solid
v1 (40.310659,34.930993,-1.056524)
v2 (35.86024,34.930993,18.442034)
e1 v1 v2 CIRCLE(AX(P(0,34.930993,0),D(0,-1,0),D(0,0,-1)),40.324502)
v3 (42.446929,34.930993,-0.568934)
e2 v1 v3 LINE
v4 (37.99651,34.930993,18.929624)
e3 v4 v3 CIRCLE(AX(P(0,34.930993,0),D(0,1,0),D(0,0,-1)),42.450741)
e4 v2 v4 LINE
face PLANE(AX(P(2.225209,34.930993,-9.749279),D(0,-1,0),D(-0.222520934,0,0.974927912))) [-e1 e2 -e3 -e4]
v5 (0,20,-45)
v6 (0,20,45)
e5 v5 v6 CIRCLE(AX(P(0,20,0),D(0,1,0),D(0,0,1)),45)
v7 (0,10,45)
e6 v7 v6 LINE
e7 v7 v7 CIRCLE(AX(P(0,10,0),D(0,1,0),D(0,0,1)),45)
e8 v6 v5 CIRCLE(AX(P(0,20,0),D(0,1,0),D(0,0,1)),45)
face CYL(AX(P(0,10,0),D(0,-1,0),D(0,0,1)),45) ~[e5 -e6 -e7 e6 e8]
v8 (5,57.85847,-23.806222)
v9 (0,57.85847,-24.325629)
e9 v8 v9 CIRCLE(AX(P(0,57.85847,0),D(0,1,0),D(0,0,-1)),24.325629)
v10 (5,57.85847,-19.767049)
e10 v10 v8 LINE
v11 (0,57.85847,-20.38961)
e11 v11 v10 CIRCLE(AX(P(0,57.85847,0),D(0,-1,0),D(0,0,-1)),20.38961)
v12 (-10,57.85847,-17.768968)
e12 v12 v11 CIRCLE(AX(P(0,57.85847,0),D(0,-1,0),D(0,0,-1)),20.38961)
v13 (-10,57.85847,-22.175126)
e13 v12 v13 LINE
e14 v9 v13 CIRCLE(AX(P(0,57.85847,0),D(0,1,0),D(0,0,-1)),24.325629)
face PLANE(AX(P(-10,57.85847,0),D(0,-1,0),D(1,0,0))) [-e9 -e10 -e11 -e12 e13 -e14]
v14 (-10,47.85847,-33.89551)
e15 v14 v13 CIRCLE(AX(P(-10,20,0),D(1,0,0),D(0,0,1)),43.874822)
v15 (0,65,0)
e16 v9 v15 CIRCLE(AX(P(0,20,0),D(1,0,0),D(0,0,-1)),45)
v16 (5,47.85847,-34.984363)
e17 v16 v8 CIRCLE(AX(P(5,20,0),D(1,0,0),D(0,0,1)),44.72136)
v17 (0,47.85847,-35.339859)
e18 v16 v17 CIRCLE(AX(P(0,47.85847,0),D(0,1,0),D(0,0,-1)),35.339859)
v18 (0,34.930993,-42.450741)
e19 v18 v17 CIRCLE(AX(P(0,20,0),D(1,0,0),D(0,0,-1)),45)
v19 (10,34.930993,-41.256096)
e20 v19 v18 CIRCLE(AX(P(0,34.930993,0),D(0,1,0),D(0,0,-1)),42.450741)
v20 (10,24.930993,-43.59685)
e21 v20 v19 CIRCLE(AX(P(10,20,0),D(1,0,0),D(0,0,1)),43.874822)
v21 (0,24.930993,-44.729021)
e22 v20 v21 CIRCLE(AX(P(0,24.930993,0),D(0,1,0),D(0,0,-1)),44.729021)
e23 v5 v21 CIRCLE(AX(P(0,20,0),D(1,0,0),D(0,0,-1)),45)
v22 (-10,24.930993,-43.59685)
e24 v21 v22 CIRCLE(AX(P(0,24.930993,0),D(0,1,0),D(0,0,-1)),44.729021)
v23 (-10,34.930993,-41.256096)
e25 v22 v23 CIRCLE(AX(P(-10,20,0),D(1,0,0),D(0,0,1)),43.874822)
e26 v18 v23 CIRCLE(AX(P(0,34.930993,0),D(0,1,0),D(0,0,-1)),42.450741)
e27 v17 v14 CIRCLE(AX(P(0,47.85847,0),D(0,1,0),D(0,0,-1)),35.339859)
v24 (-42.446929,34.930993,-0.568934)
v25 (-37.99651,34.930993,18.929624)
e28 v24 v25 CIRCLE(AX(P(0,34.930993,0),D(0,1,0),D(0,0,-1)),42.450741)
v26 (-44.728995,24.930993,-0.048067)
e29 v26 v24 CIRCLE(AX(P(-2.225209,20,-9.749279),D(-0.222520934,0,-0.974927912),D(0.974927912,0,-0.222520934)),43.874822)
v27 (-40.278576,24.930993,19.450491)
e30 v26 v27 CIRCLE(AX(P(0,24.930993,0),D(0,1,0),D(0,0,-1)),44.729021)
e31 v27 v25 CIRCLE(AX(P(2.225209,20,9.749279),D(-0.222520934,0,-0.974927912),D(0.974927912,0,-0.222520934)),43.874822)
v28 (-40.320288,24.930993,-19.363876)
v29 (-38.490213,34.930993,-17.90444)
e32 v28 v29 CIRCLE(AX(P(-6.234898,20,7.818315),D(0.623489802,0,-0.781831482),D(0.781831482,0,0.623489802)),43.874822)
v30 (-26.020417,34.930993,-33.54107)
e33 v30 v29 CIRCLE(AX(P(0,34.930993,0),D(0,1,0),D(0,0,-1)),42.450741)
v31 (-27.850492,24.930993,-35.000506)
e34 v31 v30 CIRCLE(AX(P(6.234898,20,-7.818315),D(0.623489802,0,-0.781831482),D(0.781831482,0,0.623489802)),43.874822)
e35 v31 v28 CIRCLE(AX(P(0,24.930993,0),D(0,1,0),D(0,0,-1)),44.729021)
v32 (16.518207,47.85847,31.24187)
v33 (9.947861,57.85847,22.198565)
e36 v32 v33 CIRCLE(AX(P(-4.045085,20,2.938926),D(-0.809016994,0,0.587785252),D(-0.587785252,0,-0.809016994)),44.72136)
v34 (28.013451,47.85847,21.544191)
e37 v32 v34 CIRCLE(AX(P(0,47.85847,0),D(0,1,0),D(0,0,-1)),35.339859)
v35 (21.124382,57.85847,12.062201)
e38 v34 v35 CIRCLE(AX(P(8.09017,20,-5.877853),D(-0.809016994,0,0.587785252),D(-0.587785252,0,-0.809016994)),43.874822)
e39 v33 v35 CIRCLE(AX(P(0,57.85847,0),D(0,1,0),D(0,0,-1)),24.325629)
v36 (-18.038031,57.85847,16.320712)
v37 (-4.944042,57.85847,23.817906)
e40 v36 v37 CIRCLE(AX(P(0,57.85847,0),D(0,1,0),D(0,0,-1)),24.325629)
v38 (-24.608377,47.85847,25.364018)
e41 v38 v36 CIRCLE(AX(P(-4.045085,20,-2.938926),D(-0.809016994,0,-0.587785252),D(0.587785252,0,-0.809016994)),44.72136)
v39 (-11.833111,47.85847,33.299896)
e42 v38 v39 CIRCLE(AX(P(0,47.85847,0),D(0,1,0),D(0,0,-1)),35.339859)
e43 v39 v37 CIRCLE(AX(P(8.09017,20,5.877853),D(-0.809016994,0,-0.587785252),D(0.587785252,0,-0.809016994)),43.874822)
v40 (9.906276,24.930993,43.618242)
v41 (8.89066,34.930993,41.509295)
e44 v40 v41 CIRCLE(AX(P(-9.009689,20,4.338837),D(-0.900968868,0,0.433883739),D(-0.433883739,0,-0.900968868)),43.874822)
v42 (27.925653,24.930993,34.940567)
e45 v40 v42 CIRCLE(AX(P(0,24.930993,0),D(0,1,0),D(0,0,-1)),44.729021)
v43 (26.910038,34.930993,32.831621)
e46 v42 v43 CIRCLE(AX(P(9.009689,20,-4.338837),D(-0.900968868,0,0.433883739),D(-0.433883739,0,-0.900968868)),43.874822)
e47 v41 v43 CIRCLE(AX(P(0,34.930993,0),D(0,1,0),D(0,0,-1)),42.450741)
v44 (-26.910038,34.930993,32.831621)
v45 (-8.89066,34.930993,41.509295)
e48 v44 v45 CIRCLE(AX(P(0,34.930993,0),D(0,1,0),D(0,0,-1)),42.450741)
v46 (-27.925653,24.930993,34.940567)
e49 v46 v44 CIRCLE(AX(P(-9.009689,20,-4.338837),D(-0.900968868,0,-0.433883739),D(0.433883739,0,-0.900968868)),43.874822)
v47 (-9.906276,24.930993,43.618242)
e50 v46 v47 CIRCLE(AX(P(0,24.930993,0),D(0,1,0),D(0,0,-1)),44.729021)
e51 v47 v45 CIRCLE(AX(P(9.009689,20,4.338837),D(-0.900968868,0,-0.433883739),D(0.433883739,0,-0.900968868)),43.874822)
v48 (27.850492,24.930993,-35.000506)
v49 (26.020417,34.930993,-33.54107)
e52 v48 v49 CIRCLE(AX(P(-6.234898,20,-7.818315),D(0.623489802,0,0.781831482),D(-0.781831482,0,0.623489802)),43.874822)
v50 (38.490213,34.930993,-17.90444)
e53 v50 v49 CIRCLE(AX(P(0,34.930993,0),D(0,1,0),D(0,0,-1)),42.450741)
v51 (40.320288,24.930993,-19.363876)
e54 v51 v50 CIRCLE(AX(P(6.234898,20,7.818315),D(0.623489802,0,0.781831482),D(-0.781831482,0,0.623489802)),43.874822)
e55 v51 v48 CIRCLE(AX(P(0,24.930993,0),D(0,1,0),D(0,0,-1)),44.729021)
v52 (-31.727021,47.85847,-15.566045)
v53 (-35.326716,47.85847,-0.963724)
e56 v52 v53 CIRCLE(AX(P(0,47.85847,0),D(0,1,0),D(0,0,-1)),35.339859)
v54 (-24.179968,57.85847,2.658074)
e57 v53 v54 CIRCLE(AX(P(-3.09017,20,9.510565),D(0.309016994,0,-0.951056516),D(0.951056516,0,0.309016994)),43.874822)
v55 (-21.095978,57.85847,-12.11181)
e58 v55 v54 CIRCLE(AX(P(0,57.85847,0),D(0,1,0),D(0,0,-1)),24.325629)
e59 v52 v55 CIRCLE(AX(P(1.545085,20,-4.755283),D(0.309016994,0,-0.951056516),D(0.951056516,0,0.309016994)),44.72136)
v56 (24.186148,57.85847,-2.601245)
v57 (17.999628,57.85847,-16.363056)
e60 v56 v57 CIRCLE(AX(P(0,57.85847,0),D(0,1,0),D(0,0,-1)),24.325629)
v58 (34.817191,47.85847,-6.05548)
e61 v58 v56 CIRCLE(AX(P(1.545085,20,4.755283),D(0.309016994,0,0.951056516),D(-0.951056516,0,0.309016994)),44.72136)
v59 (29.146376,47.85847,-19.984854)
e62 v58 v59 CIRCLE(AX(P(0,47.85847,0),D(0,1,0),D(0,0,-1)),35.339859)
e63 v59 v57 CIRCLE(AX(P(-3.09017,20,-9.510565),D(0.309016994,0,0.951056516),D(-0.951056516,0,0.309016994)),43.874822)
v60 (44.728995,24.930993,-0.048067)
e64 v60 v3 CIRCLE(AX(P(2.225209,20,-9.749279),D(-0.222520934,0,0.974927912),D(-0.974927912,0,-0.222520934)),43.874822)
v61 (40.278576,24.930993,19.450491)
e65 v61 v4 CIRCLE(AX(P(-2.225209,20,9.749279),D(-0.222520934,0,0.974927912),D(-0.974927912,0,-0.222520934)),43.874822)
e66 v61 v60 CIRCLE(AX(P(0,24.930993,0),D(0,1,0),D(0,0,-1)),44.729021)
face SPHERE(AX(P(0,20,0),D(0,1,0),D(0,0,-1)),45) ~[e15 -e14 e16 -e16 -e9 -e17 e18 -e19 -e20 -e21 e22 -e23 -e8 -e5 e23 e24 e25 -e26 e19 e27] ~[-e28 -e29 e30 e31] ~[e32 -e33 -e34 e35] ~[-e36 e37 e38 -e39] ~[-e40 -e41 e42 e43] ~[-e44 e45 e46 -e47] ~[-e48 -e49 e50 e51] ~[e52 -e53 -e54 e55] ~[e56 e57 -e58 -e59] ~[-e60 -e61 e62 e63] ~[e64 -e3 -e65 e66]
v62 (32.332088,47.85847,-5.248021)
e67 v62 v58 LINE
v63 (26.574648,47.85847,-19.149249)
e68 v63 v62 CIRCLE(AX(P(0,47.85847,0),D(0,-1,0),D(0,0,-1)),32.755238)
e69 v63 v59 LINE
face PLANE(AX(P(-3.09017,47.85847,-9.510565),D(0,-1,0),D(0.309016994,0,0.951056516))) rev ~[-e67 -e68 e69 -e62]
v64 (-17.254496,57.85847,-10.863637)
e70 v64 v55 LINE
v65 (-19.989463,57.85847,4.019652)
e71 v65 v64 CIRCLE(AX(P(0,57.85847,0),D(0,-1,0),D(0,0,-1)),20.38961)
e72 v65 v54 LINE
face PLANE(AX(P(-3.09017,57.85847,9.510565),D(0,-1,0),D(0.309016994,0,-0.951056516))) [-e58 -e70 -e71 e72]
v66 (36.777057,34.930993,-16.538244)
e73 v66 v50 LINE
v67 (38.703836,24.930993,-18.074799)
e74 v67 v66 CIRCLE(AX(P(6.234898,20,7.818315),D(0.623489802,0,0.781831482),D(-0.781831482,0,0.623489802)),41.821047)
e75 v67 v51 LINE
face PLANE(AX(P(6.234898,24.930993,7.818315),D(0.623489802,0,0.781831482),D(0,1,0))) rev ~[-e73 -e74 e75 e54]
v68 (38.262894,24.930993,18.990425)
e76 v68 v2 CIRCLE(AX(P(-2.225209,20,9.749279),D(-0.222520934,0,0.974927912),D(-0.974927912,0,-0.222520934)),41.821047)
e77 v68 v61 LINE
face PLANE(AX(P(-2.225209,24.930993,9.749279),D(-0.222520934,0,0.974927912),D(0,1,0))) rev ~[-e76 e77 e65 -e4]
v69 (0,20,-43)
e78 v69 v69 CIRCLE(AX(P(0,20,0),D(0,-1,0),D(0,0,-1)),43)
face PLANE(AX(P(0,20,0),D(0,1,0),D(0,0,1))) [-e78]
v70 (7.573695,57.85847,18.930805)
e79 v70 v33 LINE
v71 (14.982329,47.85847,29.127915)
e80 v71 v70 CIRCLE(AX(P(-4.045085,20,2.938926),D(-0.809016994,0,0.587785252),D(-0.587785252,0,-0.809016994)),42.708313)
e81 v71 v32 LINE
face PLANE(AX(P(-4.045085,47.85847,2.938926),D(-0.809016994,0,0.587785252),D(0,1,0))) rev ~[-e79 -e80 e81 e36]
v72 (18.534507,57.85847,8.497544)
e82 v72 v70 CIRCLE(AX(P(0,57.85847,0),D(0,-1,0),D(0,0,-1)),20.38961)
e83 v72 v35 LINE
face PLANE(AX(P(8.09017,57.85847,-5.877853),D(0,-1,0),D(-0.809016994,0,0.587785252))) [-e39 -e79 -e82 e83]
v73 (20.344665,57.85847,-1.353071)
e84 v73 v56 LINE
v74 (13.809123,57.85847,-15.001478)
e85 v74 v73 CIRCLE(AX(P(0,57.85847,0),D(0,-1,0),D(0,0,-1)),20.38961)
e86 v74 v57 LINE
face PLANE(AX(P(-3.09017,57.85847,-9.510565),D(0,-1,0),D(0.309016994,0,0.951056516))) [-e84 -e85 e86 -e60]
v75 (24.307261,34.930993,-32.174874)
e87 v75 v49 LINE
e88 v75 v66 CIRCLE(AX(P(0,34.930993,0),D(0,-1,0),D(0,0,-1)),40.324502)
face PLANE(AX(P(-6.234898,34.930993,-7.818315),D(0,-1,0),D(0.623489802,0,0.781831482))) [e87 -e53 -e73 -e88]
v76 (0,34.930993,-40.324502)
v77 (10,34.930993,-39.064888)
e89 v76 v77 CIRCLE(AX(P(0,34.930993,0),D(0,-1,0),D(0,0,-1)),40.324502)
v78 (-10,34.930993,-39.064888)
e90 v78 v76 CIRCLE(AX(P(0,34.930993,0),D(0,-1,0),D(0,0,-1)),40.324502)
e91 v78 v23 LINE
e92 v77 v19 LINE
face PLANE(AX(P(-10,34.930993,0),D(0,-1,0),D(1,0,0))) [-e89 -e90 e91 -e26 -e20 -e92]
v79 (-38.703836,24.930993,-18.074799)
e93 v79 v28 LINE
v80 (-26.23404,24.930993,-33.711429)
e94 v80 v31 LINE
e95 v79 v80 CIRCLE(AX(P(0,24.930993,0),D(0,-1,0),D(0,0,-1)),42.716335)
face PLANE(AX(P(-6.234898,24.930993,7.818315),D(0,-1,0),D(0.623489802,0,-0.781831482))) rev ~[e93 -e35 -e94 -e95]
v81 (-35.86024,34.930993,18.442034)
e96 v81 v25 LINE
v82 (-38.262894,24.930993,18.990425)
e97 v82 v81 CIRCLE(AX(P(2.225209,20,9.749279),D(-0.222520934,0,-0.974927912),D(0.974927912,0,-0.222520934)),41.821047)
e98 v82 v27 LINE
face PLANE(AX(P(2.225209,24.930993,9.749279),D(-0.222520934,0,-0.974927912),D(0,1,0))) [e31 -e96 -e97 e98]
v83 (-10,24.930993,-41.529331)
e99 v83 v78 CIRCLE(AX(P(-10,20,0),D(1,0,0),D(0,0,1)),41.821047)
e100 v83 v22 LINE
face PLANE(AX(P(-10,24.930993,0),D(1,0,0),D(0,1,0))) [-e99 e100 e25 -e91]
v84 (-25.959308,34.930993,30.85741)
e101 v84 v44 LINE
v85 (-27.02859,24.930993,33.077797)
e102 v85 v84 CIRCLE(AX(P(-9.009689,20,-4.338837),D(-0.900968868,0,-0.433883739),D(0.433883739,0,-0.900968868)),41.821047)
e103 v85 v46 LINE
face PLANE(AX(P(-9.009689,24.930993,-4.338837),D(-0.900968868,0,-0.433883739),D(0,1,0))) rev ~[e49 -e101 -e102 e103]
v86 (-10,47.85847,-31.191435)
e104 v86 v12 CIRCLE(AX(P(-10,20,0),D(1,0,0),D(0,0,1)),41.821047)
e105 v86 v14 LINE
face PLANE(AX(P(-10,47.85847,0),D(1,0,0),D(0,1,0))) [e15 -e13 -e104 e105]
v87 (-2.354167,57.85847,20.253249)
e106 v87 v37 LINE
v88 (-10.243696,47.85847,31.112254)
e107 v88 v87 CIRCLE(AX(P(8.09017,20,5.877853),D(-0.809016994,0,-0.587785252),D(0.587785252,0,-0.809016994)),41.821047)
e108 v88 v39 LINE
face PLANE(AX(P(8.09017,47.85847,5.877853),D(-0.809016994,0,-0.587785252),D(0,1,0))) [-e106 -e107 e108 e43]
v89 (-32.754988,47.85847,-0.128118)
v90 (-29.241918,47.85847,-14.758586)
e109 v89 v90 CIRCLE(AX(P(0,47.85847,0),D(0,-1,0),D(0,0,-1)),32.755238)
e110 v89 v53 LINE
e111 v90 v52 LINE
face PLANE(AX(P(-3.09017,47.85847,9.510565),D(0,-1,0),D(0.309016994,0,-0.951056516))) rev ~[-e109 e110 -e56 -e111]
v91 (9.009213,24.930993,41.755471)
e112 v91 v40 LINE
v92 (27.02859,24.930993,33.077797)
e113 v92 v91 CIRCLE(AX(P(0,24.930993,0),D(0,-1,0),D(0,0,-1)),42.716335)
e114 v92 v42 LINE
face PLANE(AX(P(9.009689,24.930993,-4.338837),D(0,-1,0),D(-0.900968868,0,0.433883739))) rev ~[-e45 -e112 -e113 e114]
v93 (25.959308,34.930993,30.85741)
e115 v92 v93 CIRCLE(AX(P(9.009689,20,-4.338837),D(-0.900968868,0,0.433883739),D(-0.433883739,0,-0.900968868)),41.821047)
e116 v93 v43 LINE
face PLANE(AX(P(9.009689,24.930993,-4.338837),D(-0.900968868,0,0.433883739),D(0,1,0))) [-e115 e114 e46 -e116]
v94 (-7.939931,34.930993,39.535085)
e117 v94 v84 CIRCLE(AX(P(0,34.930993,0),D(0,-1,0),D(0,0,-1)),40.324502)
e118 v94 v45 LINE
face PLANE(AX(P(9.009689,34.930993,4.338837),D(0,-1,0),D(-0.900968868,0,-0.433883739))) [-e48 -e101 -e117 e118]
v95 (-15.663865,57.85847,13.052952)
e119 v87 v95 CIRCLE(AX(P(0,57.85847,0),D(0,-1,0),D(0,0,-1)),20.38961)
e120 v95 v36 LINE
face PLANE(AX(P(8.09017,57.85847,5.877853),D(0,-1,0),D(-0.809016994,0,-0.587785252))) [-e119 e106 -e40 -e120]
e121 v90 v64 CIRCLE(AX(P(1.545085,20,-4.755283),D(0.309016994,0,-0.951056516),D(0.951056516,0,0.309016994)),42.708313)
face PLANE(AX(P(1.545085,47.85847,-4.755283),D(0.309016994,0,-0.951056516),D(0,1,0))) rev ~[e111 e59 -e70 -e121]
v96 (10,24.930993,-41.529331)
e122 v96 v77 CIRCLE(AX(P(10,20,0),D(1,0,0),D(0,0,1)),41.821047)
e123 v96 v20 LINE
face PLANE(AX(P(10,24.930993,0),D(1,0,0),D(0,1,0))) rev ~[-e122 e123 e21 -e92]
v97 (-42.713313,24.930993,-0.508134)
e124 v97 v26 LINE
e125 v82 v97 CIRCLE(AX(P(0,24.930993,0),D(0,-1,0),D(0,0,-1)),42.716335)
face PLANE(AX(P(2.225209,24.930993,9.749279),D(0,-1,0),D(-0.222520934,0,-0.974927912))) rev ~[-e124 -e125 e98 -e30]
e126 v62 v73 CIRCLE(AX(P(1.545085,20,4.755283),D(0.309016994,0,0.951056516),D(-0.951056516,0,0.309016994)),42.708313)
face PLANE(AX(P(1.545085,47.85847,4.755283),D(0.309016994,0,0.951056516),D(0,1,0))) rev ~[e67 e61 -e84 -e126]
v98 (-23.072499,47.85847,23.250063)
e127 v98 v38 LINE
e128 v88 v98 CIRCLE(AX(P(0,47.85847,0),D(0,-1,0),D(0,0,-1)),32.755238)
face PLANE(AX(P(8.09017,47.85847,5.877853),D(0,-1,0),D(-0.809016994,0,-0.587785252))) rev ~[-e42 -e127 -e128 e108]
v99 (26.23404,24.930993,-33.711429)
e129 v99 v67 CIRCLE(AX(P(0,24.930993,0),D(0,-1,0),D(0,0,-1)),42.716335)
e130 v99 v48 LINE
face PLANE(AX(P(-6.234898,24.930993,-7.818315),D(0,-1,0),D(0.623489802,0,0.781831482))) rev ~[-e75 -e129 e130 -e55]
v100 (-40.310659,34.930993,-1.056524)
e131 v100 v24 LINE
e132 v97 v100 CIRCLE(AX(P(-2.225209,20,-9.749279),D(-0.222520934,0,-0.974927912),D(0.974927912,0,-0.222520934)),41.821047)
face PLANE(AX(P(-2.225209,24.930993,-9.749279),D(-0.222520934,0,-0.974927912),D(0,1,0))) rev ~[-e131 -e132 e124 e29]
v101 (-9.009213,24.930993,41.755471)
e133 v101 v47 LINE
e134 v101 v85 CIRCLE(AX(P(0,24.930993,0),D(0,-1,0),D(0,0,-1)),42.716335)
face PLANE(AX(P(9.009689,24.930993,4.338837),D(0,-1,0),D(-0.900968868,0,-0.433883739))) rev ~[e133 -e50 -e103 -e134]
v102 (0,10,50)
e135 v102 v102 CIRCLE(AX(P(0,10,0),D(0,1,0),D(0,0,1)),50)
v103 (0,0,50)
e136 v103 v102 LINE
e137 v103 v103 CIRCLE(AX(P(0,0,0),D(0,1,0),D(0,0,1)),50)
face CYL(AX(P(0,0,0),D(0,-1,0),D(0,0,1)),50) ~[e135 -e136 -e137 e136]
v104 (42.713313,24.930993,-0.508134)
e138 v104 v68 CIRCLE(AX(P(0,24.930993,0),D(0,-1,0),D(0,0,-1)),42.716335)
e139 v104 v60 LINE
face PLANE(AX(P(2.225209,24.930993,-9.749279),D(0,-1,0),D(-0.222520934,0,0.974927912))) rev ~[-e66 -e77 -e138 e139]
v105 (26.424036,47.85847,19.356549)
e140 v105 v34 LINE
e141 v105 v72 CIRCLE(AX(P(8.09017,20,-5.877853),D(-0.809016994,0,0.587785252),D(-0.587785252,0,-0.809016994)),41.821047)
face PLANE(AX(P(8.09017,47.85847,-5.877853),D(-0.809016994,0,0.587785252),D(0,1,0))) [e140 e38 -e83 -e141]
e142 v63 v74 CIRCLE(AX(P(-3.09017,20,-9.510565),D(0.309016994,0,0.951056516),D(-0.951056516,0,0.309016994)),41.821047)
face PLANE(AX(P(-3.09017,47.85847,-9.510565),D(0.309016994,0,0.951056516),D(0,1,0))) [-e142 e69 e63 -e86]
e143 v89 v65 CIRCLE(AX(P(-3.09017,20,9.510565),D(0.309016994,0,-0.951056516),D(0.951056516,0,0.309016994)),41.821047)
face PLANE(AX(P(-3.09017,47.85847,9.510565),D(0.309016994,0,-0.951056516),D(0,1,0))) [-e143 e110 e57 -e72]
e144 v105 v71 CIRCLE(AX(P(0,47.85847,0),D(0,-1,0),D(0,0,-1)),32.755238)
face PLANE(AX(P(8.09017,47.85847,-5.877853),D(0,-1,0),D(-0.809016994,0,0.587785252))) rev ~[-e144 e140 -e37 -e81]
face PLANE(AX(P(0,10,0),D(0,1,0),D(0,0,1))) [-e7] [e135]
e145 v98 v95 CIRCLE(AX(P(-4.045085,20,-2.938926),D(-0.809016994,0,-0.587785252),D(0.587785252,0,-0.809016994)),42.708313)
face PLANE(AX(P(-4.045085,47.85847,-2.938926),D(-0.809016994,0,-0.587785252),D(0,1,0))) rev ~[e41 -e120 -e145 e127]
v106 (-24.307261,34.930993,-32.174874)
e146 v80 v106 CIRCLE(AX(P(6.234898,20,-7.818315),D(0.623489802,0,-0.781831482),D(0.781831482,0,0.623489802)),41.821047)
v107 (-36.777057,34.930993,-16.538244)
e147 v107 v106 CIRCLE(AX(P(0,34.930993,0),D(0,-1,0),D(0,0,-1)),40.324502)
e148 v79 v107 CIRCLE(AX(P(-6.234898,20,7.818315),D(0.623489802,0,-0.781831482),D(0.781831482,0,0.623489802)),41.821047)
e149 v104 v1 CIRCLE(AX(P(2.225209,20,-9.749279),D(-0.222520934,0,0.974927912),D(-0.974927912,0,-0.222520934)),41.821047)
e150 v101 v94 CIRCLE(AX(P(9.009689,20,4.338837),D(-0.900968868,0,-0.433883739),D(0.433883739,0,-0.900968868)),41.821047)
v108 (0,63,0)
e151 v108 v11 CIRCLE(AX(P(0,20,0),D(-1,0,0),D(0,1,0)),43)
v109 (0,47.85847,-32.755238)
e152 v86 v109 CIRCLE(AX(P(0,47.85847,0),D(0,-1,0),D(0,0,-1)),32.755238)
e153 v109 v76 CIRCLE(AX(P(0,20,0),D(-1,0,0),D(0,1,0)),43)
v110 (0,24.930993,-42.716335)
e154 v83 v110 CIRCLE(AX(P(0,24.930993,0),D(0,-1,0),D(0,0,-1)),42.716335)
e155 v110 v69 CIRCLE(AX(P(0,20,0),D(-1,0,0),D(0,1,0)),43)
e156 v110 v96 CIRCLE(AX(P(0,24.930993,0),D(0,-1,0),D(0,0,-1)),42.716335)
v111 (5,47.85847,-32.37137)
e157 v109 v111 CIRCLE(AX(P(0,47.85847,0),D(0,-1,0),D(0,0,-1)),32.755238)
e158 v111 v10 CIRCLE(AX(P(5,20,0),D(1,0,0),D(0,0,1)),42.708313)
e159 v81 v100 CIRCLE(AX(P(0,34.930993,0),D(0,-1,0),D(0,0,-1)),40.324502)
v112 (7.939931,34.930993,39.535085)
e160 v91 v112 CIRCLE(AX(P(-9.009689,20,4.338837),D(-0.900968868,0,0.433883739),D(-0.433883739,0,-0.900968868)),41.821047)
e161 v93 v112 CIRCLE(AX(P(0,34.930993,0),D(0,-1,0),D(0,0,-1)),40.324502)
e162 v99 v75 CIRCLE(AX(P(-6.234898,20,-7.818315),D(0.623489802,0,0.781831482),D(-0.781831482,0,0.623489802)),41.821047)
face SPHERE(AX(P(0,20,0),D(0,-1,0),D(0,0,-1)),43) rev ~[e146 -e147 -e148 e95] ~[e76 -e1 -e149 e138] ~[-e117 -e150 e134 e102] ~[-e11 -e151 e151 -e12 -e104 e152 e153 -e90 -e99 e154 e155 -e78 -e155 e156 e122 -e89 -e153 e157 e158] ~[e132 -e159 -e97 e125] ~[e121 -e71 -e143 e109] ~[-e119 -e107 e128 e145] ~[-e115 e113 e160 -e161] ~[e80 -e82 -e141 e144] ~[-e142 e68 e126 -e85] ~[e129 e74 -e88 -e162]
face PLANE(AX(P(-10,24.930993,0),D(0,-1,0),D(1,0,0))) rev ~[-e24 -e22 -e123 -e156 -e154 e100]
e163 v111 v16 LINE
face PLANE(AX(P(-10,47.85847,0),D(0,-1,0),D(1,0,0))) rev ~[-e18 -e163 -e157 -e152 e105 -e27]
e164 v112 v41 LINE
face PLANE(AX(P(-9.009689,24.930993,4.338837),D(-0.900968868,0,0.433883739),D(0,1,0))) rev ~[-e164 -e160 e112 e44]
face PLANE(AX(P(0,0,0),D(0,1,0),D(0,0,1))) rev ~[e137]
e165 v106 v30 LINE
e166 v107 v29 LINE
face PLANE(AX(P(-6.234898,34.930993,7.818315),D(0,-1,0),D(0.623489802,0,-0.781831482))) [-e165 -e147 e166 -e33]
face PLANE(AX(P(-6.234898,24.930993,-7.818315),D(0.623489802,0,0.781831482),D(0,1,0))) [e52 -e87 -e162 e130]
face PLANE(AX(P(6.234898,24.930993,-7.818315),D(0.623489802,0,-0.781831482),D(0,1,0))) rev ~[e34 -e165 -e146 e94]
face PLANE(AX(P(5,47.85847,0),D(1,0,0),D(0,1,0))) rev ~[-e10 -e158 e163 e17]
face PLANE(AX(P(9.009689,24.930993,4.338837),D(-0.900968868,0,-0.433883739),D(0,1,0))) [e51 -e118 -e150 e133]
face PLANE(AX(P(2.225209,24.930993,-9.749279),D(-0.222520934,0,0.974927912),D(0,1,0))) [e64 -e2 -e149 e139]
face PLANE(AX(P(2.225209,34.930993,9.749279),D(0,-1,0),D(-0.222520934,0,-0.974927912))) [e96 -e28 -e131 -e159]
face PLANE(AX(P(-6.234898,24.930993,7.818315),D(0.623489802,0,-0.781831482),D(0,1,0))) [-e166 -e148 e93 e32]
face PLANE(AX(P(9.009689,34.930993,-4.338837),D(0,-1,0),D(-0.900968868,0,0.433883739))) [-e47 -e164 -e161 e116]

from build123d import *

# Parameters (mm, degrees)
SCHIZZO1_R                   = 50
ESTRUSIONE_ESTRUSIONE1_DEPTH = 10
SCHIZZO2_R                   = 45
ESTRUSIONE_ESTRUSIONE2_DEPTH = 10
SCHIZZO14_W                  = 20
SCHIZZO14_H                  = 10
TAGLIO_ESTRUSIONE2_DEPTH     = 53
RIPETIZIONECIRCOLARE6_COUNT  = 7
SCHIZZO17_W                  = 15
SCHIZZO17_H                  = 10
TAGLIO_ESTRUSIONE3_DEPTH     = 53
RIPETIZIONECIRCOLARE7_COUNT  = 5


with BuildPart() as part:
    # Schizzo1 → Estrusione-Estrusione1 (new body)
    with BuildSketch(Plane(origin=(0, 0, 0), x_dir=(1, 0, 0), z_dir=(0, 1, 0))):
        with Locations(Location((0, 0, 0), (0, 0, 270))):
            Circle(SCHIZZO1_R)
    extrude(amount=ESTRUSIONE_ESTRUSIONE1_DEPTH)

    # Schizzo2 → Estrusione-Estrusione2 (add)
    with BuildSketch(Plane(origin=(0, 10, 0), x_dir=(1, 0, 0), z_dir=(0, 1, 0))):
        with Locations(Location((0, 0, 0), (0, 0, 270))):
            Circle(SCHIZZO2_R)
    extrude(amount=ESTRUSIONE_ESTRUSIONE2_DEPTH)

    # Schizzo6 → Rivoluzione9 (revolve)
    with BuildSketch(Plane(origin=(0, 0, 0), x_dir=(0, 0, -1), z_dir=(1, 0, 0)), mode=Mode.PRIVATE) as rivoluzione9_sk:
        with BuildLine():
            Line((0, 65), (0, 63))
            ThreePointArc((0, 63), (-30.405591591, 50.405591591), (-43, 20))
            Line((-43, 20), (-45, 20))
            ThreePointArc((-45, 20), (-31.819805153, 51.819805153), (0, 65))
        make_face()
    revolve(rivoluzione9_sk.sketch.rotate(Axis((0, 119.686269666, 0), (0, -1, 0)), 180), axis=Axis((0, 119.686269666, 0), (0, -1, 0)))

    # Schizzo14 → Taglio-Estrusione2 (cut)
    with BuildSketch(Plane.XY):
        with Locations((0, 29.930993036)):
            Rectangle(SCHIZZO14_W, SCHIZZO14_H)
    taglio_estrusione2 = extrude(amount=-TAGLIO_ESTRUSIONE2_DEPTH, mode=Mode.SUBTRACT)

    # RipetizioneCircolare6: Taglio-Estrusione2 ×7 about axis
    ripetizionecircolare6_axis = Axis((0, 0, 0), (0, 1, 0))
    for i in range(1, RIPETIZIONECIRCOLARE6_COUNT):
        add(taglio_estrusione2.rotate(ripetizionecircolare6_axis, i * 360 / RIPETIZIONECIRCOLARE6_COUNT), mode=Mode.SUBTRACT)

    # Schizzo17 → Taglio-Estrusione3 (cut)
    with BuildSketch(Plane.XY):
        with Locations((-2.5, 52.858470441)):
            Rectangle(SCHIZZO17_W, SCHIZZO17_H)
    taglio_estrusione3 = extrude(amount=-TAGLIO_ESTRUSIONE3_DEPTH, mode=Mode.SUBTRACT)

    # RipetizioneCircolare7: Taglio-Estrusione3 ×5 about axis
    ripetizionecircolare7_axis = Axis((0, 0, 0), (0, 1, 0))
    for i in range(1, RIPETIZIONECIRCOLARE7_COUNT):
        add(taglio_estrusione3.rotate(ripetizionecircolare7_axis, i * 360 / RIPETIZIONECIRCOLARE7_COUNT), mode=Mode.SUBTRACT)


solid = part.part
